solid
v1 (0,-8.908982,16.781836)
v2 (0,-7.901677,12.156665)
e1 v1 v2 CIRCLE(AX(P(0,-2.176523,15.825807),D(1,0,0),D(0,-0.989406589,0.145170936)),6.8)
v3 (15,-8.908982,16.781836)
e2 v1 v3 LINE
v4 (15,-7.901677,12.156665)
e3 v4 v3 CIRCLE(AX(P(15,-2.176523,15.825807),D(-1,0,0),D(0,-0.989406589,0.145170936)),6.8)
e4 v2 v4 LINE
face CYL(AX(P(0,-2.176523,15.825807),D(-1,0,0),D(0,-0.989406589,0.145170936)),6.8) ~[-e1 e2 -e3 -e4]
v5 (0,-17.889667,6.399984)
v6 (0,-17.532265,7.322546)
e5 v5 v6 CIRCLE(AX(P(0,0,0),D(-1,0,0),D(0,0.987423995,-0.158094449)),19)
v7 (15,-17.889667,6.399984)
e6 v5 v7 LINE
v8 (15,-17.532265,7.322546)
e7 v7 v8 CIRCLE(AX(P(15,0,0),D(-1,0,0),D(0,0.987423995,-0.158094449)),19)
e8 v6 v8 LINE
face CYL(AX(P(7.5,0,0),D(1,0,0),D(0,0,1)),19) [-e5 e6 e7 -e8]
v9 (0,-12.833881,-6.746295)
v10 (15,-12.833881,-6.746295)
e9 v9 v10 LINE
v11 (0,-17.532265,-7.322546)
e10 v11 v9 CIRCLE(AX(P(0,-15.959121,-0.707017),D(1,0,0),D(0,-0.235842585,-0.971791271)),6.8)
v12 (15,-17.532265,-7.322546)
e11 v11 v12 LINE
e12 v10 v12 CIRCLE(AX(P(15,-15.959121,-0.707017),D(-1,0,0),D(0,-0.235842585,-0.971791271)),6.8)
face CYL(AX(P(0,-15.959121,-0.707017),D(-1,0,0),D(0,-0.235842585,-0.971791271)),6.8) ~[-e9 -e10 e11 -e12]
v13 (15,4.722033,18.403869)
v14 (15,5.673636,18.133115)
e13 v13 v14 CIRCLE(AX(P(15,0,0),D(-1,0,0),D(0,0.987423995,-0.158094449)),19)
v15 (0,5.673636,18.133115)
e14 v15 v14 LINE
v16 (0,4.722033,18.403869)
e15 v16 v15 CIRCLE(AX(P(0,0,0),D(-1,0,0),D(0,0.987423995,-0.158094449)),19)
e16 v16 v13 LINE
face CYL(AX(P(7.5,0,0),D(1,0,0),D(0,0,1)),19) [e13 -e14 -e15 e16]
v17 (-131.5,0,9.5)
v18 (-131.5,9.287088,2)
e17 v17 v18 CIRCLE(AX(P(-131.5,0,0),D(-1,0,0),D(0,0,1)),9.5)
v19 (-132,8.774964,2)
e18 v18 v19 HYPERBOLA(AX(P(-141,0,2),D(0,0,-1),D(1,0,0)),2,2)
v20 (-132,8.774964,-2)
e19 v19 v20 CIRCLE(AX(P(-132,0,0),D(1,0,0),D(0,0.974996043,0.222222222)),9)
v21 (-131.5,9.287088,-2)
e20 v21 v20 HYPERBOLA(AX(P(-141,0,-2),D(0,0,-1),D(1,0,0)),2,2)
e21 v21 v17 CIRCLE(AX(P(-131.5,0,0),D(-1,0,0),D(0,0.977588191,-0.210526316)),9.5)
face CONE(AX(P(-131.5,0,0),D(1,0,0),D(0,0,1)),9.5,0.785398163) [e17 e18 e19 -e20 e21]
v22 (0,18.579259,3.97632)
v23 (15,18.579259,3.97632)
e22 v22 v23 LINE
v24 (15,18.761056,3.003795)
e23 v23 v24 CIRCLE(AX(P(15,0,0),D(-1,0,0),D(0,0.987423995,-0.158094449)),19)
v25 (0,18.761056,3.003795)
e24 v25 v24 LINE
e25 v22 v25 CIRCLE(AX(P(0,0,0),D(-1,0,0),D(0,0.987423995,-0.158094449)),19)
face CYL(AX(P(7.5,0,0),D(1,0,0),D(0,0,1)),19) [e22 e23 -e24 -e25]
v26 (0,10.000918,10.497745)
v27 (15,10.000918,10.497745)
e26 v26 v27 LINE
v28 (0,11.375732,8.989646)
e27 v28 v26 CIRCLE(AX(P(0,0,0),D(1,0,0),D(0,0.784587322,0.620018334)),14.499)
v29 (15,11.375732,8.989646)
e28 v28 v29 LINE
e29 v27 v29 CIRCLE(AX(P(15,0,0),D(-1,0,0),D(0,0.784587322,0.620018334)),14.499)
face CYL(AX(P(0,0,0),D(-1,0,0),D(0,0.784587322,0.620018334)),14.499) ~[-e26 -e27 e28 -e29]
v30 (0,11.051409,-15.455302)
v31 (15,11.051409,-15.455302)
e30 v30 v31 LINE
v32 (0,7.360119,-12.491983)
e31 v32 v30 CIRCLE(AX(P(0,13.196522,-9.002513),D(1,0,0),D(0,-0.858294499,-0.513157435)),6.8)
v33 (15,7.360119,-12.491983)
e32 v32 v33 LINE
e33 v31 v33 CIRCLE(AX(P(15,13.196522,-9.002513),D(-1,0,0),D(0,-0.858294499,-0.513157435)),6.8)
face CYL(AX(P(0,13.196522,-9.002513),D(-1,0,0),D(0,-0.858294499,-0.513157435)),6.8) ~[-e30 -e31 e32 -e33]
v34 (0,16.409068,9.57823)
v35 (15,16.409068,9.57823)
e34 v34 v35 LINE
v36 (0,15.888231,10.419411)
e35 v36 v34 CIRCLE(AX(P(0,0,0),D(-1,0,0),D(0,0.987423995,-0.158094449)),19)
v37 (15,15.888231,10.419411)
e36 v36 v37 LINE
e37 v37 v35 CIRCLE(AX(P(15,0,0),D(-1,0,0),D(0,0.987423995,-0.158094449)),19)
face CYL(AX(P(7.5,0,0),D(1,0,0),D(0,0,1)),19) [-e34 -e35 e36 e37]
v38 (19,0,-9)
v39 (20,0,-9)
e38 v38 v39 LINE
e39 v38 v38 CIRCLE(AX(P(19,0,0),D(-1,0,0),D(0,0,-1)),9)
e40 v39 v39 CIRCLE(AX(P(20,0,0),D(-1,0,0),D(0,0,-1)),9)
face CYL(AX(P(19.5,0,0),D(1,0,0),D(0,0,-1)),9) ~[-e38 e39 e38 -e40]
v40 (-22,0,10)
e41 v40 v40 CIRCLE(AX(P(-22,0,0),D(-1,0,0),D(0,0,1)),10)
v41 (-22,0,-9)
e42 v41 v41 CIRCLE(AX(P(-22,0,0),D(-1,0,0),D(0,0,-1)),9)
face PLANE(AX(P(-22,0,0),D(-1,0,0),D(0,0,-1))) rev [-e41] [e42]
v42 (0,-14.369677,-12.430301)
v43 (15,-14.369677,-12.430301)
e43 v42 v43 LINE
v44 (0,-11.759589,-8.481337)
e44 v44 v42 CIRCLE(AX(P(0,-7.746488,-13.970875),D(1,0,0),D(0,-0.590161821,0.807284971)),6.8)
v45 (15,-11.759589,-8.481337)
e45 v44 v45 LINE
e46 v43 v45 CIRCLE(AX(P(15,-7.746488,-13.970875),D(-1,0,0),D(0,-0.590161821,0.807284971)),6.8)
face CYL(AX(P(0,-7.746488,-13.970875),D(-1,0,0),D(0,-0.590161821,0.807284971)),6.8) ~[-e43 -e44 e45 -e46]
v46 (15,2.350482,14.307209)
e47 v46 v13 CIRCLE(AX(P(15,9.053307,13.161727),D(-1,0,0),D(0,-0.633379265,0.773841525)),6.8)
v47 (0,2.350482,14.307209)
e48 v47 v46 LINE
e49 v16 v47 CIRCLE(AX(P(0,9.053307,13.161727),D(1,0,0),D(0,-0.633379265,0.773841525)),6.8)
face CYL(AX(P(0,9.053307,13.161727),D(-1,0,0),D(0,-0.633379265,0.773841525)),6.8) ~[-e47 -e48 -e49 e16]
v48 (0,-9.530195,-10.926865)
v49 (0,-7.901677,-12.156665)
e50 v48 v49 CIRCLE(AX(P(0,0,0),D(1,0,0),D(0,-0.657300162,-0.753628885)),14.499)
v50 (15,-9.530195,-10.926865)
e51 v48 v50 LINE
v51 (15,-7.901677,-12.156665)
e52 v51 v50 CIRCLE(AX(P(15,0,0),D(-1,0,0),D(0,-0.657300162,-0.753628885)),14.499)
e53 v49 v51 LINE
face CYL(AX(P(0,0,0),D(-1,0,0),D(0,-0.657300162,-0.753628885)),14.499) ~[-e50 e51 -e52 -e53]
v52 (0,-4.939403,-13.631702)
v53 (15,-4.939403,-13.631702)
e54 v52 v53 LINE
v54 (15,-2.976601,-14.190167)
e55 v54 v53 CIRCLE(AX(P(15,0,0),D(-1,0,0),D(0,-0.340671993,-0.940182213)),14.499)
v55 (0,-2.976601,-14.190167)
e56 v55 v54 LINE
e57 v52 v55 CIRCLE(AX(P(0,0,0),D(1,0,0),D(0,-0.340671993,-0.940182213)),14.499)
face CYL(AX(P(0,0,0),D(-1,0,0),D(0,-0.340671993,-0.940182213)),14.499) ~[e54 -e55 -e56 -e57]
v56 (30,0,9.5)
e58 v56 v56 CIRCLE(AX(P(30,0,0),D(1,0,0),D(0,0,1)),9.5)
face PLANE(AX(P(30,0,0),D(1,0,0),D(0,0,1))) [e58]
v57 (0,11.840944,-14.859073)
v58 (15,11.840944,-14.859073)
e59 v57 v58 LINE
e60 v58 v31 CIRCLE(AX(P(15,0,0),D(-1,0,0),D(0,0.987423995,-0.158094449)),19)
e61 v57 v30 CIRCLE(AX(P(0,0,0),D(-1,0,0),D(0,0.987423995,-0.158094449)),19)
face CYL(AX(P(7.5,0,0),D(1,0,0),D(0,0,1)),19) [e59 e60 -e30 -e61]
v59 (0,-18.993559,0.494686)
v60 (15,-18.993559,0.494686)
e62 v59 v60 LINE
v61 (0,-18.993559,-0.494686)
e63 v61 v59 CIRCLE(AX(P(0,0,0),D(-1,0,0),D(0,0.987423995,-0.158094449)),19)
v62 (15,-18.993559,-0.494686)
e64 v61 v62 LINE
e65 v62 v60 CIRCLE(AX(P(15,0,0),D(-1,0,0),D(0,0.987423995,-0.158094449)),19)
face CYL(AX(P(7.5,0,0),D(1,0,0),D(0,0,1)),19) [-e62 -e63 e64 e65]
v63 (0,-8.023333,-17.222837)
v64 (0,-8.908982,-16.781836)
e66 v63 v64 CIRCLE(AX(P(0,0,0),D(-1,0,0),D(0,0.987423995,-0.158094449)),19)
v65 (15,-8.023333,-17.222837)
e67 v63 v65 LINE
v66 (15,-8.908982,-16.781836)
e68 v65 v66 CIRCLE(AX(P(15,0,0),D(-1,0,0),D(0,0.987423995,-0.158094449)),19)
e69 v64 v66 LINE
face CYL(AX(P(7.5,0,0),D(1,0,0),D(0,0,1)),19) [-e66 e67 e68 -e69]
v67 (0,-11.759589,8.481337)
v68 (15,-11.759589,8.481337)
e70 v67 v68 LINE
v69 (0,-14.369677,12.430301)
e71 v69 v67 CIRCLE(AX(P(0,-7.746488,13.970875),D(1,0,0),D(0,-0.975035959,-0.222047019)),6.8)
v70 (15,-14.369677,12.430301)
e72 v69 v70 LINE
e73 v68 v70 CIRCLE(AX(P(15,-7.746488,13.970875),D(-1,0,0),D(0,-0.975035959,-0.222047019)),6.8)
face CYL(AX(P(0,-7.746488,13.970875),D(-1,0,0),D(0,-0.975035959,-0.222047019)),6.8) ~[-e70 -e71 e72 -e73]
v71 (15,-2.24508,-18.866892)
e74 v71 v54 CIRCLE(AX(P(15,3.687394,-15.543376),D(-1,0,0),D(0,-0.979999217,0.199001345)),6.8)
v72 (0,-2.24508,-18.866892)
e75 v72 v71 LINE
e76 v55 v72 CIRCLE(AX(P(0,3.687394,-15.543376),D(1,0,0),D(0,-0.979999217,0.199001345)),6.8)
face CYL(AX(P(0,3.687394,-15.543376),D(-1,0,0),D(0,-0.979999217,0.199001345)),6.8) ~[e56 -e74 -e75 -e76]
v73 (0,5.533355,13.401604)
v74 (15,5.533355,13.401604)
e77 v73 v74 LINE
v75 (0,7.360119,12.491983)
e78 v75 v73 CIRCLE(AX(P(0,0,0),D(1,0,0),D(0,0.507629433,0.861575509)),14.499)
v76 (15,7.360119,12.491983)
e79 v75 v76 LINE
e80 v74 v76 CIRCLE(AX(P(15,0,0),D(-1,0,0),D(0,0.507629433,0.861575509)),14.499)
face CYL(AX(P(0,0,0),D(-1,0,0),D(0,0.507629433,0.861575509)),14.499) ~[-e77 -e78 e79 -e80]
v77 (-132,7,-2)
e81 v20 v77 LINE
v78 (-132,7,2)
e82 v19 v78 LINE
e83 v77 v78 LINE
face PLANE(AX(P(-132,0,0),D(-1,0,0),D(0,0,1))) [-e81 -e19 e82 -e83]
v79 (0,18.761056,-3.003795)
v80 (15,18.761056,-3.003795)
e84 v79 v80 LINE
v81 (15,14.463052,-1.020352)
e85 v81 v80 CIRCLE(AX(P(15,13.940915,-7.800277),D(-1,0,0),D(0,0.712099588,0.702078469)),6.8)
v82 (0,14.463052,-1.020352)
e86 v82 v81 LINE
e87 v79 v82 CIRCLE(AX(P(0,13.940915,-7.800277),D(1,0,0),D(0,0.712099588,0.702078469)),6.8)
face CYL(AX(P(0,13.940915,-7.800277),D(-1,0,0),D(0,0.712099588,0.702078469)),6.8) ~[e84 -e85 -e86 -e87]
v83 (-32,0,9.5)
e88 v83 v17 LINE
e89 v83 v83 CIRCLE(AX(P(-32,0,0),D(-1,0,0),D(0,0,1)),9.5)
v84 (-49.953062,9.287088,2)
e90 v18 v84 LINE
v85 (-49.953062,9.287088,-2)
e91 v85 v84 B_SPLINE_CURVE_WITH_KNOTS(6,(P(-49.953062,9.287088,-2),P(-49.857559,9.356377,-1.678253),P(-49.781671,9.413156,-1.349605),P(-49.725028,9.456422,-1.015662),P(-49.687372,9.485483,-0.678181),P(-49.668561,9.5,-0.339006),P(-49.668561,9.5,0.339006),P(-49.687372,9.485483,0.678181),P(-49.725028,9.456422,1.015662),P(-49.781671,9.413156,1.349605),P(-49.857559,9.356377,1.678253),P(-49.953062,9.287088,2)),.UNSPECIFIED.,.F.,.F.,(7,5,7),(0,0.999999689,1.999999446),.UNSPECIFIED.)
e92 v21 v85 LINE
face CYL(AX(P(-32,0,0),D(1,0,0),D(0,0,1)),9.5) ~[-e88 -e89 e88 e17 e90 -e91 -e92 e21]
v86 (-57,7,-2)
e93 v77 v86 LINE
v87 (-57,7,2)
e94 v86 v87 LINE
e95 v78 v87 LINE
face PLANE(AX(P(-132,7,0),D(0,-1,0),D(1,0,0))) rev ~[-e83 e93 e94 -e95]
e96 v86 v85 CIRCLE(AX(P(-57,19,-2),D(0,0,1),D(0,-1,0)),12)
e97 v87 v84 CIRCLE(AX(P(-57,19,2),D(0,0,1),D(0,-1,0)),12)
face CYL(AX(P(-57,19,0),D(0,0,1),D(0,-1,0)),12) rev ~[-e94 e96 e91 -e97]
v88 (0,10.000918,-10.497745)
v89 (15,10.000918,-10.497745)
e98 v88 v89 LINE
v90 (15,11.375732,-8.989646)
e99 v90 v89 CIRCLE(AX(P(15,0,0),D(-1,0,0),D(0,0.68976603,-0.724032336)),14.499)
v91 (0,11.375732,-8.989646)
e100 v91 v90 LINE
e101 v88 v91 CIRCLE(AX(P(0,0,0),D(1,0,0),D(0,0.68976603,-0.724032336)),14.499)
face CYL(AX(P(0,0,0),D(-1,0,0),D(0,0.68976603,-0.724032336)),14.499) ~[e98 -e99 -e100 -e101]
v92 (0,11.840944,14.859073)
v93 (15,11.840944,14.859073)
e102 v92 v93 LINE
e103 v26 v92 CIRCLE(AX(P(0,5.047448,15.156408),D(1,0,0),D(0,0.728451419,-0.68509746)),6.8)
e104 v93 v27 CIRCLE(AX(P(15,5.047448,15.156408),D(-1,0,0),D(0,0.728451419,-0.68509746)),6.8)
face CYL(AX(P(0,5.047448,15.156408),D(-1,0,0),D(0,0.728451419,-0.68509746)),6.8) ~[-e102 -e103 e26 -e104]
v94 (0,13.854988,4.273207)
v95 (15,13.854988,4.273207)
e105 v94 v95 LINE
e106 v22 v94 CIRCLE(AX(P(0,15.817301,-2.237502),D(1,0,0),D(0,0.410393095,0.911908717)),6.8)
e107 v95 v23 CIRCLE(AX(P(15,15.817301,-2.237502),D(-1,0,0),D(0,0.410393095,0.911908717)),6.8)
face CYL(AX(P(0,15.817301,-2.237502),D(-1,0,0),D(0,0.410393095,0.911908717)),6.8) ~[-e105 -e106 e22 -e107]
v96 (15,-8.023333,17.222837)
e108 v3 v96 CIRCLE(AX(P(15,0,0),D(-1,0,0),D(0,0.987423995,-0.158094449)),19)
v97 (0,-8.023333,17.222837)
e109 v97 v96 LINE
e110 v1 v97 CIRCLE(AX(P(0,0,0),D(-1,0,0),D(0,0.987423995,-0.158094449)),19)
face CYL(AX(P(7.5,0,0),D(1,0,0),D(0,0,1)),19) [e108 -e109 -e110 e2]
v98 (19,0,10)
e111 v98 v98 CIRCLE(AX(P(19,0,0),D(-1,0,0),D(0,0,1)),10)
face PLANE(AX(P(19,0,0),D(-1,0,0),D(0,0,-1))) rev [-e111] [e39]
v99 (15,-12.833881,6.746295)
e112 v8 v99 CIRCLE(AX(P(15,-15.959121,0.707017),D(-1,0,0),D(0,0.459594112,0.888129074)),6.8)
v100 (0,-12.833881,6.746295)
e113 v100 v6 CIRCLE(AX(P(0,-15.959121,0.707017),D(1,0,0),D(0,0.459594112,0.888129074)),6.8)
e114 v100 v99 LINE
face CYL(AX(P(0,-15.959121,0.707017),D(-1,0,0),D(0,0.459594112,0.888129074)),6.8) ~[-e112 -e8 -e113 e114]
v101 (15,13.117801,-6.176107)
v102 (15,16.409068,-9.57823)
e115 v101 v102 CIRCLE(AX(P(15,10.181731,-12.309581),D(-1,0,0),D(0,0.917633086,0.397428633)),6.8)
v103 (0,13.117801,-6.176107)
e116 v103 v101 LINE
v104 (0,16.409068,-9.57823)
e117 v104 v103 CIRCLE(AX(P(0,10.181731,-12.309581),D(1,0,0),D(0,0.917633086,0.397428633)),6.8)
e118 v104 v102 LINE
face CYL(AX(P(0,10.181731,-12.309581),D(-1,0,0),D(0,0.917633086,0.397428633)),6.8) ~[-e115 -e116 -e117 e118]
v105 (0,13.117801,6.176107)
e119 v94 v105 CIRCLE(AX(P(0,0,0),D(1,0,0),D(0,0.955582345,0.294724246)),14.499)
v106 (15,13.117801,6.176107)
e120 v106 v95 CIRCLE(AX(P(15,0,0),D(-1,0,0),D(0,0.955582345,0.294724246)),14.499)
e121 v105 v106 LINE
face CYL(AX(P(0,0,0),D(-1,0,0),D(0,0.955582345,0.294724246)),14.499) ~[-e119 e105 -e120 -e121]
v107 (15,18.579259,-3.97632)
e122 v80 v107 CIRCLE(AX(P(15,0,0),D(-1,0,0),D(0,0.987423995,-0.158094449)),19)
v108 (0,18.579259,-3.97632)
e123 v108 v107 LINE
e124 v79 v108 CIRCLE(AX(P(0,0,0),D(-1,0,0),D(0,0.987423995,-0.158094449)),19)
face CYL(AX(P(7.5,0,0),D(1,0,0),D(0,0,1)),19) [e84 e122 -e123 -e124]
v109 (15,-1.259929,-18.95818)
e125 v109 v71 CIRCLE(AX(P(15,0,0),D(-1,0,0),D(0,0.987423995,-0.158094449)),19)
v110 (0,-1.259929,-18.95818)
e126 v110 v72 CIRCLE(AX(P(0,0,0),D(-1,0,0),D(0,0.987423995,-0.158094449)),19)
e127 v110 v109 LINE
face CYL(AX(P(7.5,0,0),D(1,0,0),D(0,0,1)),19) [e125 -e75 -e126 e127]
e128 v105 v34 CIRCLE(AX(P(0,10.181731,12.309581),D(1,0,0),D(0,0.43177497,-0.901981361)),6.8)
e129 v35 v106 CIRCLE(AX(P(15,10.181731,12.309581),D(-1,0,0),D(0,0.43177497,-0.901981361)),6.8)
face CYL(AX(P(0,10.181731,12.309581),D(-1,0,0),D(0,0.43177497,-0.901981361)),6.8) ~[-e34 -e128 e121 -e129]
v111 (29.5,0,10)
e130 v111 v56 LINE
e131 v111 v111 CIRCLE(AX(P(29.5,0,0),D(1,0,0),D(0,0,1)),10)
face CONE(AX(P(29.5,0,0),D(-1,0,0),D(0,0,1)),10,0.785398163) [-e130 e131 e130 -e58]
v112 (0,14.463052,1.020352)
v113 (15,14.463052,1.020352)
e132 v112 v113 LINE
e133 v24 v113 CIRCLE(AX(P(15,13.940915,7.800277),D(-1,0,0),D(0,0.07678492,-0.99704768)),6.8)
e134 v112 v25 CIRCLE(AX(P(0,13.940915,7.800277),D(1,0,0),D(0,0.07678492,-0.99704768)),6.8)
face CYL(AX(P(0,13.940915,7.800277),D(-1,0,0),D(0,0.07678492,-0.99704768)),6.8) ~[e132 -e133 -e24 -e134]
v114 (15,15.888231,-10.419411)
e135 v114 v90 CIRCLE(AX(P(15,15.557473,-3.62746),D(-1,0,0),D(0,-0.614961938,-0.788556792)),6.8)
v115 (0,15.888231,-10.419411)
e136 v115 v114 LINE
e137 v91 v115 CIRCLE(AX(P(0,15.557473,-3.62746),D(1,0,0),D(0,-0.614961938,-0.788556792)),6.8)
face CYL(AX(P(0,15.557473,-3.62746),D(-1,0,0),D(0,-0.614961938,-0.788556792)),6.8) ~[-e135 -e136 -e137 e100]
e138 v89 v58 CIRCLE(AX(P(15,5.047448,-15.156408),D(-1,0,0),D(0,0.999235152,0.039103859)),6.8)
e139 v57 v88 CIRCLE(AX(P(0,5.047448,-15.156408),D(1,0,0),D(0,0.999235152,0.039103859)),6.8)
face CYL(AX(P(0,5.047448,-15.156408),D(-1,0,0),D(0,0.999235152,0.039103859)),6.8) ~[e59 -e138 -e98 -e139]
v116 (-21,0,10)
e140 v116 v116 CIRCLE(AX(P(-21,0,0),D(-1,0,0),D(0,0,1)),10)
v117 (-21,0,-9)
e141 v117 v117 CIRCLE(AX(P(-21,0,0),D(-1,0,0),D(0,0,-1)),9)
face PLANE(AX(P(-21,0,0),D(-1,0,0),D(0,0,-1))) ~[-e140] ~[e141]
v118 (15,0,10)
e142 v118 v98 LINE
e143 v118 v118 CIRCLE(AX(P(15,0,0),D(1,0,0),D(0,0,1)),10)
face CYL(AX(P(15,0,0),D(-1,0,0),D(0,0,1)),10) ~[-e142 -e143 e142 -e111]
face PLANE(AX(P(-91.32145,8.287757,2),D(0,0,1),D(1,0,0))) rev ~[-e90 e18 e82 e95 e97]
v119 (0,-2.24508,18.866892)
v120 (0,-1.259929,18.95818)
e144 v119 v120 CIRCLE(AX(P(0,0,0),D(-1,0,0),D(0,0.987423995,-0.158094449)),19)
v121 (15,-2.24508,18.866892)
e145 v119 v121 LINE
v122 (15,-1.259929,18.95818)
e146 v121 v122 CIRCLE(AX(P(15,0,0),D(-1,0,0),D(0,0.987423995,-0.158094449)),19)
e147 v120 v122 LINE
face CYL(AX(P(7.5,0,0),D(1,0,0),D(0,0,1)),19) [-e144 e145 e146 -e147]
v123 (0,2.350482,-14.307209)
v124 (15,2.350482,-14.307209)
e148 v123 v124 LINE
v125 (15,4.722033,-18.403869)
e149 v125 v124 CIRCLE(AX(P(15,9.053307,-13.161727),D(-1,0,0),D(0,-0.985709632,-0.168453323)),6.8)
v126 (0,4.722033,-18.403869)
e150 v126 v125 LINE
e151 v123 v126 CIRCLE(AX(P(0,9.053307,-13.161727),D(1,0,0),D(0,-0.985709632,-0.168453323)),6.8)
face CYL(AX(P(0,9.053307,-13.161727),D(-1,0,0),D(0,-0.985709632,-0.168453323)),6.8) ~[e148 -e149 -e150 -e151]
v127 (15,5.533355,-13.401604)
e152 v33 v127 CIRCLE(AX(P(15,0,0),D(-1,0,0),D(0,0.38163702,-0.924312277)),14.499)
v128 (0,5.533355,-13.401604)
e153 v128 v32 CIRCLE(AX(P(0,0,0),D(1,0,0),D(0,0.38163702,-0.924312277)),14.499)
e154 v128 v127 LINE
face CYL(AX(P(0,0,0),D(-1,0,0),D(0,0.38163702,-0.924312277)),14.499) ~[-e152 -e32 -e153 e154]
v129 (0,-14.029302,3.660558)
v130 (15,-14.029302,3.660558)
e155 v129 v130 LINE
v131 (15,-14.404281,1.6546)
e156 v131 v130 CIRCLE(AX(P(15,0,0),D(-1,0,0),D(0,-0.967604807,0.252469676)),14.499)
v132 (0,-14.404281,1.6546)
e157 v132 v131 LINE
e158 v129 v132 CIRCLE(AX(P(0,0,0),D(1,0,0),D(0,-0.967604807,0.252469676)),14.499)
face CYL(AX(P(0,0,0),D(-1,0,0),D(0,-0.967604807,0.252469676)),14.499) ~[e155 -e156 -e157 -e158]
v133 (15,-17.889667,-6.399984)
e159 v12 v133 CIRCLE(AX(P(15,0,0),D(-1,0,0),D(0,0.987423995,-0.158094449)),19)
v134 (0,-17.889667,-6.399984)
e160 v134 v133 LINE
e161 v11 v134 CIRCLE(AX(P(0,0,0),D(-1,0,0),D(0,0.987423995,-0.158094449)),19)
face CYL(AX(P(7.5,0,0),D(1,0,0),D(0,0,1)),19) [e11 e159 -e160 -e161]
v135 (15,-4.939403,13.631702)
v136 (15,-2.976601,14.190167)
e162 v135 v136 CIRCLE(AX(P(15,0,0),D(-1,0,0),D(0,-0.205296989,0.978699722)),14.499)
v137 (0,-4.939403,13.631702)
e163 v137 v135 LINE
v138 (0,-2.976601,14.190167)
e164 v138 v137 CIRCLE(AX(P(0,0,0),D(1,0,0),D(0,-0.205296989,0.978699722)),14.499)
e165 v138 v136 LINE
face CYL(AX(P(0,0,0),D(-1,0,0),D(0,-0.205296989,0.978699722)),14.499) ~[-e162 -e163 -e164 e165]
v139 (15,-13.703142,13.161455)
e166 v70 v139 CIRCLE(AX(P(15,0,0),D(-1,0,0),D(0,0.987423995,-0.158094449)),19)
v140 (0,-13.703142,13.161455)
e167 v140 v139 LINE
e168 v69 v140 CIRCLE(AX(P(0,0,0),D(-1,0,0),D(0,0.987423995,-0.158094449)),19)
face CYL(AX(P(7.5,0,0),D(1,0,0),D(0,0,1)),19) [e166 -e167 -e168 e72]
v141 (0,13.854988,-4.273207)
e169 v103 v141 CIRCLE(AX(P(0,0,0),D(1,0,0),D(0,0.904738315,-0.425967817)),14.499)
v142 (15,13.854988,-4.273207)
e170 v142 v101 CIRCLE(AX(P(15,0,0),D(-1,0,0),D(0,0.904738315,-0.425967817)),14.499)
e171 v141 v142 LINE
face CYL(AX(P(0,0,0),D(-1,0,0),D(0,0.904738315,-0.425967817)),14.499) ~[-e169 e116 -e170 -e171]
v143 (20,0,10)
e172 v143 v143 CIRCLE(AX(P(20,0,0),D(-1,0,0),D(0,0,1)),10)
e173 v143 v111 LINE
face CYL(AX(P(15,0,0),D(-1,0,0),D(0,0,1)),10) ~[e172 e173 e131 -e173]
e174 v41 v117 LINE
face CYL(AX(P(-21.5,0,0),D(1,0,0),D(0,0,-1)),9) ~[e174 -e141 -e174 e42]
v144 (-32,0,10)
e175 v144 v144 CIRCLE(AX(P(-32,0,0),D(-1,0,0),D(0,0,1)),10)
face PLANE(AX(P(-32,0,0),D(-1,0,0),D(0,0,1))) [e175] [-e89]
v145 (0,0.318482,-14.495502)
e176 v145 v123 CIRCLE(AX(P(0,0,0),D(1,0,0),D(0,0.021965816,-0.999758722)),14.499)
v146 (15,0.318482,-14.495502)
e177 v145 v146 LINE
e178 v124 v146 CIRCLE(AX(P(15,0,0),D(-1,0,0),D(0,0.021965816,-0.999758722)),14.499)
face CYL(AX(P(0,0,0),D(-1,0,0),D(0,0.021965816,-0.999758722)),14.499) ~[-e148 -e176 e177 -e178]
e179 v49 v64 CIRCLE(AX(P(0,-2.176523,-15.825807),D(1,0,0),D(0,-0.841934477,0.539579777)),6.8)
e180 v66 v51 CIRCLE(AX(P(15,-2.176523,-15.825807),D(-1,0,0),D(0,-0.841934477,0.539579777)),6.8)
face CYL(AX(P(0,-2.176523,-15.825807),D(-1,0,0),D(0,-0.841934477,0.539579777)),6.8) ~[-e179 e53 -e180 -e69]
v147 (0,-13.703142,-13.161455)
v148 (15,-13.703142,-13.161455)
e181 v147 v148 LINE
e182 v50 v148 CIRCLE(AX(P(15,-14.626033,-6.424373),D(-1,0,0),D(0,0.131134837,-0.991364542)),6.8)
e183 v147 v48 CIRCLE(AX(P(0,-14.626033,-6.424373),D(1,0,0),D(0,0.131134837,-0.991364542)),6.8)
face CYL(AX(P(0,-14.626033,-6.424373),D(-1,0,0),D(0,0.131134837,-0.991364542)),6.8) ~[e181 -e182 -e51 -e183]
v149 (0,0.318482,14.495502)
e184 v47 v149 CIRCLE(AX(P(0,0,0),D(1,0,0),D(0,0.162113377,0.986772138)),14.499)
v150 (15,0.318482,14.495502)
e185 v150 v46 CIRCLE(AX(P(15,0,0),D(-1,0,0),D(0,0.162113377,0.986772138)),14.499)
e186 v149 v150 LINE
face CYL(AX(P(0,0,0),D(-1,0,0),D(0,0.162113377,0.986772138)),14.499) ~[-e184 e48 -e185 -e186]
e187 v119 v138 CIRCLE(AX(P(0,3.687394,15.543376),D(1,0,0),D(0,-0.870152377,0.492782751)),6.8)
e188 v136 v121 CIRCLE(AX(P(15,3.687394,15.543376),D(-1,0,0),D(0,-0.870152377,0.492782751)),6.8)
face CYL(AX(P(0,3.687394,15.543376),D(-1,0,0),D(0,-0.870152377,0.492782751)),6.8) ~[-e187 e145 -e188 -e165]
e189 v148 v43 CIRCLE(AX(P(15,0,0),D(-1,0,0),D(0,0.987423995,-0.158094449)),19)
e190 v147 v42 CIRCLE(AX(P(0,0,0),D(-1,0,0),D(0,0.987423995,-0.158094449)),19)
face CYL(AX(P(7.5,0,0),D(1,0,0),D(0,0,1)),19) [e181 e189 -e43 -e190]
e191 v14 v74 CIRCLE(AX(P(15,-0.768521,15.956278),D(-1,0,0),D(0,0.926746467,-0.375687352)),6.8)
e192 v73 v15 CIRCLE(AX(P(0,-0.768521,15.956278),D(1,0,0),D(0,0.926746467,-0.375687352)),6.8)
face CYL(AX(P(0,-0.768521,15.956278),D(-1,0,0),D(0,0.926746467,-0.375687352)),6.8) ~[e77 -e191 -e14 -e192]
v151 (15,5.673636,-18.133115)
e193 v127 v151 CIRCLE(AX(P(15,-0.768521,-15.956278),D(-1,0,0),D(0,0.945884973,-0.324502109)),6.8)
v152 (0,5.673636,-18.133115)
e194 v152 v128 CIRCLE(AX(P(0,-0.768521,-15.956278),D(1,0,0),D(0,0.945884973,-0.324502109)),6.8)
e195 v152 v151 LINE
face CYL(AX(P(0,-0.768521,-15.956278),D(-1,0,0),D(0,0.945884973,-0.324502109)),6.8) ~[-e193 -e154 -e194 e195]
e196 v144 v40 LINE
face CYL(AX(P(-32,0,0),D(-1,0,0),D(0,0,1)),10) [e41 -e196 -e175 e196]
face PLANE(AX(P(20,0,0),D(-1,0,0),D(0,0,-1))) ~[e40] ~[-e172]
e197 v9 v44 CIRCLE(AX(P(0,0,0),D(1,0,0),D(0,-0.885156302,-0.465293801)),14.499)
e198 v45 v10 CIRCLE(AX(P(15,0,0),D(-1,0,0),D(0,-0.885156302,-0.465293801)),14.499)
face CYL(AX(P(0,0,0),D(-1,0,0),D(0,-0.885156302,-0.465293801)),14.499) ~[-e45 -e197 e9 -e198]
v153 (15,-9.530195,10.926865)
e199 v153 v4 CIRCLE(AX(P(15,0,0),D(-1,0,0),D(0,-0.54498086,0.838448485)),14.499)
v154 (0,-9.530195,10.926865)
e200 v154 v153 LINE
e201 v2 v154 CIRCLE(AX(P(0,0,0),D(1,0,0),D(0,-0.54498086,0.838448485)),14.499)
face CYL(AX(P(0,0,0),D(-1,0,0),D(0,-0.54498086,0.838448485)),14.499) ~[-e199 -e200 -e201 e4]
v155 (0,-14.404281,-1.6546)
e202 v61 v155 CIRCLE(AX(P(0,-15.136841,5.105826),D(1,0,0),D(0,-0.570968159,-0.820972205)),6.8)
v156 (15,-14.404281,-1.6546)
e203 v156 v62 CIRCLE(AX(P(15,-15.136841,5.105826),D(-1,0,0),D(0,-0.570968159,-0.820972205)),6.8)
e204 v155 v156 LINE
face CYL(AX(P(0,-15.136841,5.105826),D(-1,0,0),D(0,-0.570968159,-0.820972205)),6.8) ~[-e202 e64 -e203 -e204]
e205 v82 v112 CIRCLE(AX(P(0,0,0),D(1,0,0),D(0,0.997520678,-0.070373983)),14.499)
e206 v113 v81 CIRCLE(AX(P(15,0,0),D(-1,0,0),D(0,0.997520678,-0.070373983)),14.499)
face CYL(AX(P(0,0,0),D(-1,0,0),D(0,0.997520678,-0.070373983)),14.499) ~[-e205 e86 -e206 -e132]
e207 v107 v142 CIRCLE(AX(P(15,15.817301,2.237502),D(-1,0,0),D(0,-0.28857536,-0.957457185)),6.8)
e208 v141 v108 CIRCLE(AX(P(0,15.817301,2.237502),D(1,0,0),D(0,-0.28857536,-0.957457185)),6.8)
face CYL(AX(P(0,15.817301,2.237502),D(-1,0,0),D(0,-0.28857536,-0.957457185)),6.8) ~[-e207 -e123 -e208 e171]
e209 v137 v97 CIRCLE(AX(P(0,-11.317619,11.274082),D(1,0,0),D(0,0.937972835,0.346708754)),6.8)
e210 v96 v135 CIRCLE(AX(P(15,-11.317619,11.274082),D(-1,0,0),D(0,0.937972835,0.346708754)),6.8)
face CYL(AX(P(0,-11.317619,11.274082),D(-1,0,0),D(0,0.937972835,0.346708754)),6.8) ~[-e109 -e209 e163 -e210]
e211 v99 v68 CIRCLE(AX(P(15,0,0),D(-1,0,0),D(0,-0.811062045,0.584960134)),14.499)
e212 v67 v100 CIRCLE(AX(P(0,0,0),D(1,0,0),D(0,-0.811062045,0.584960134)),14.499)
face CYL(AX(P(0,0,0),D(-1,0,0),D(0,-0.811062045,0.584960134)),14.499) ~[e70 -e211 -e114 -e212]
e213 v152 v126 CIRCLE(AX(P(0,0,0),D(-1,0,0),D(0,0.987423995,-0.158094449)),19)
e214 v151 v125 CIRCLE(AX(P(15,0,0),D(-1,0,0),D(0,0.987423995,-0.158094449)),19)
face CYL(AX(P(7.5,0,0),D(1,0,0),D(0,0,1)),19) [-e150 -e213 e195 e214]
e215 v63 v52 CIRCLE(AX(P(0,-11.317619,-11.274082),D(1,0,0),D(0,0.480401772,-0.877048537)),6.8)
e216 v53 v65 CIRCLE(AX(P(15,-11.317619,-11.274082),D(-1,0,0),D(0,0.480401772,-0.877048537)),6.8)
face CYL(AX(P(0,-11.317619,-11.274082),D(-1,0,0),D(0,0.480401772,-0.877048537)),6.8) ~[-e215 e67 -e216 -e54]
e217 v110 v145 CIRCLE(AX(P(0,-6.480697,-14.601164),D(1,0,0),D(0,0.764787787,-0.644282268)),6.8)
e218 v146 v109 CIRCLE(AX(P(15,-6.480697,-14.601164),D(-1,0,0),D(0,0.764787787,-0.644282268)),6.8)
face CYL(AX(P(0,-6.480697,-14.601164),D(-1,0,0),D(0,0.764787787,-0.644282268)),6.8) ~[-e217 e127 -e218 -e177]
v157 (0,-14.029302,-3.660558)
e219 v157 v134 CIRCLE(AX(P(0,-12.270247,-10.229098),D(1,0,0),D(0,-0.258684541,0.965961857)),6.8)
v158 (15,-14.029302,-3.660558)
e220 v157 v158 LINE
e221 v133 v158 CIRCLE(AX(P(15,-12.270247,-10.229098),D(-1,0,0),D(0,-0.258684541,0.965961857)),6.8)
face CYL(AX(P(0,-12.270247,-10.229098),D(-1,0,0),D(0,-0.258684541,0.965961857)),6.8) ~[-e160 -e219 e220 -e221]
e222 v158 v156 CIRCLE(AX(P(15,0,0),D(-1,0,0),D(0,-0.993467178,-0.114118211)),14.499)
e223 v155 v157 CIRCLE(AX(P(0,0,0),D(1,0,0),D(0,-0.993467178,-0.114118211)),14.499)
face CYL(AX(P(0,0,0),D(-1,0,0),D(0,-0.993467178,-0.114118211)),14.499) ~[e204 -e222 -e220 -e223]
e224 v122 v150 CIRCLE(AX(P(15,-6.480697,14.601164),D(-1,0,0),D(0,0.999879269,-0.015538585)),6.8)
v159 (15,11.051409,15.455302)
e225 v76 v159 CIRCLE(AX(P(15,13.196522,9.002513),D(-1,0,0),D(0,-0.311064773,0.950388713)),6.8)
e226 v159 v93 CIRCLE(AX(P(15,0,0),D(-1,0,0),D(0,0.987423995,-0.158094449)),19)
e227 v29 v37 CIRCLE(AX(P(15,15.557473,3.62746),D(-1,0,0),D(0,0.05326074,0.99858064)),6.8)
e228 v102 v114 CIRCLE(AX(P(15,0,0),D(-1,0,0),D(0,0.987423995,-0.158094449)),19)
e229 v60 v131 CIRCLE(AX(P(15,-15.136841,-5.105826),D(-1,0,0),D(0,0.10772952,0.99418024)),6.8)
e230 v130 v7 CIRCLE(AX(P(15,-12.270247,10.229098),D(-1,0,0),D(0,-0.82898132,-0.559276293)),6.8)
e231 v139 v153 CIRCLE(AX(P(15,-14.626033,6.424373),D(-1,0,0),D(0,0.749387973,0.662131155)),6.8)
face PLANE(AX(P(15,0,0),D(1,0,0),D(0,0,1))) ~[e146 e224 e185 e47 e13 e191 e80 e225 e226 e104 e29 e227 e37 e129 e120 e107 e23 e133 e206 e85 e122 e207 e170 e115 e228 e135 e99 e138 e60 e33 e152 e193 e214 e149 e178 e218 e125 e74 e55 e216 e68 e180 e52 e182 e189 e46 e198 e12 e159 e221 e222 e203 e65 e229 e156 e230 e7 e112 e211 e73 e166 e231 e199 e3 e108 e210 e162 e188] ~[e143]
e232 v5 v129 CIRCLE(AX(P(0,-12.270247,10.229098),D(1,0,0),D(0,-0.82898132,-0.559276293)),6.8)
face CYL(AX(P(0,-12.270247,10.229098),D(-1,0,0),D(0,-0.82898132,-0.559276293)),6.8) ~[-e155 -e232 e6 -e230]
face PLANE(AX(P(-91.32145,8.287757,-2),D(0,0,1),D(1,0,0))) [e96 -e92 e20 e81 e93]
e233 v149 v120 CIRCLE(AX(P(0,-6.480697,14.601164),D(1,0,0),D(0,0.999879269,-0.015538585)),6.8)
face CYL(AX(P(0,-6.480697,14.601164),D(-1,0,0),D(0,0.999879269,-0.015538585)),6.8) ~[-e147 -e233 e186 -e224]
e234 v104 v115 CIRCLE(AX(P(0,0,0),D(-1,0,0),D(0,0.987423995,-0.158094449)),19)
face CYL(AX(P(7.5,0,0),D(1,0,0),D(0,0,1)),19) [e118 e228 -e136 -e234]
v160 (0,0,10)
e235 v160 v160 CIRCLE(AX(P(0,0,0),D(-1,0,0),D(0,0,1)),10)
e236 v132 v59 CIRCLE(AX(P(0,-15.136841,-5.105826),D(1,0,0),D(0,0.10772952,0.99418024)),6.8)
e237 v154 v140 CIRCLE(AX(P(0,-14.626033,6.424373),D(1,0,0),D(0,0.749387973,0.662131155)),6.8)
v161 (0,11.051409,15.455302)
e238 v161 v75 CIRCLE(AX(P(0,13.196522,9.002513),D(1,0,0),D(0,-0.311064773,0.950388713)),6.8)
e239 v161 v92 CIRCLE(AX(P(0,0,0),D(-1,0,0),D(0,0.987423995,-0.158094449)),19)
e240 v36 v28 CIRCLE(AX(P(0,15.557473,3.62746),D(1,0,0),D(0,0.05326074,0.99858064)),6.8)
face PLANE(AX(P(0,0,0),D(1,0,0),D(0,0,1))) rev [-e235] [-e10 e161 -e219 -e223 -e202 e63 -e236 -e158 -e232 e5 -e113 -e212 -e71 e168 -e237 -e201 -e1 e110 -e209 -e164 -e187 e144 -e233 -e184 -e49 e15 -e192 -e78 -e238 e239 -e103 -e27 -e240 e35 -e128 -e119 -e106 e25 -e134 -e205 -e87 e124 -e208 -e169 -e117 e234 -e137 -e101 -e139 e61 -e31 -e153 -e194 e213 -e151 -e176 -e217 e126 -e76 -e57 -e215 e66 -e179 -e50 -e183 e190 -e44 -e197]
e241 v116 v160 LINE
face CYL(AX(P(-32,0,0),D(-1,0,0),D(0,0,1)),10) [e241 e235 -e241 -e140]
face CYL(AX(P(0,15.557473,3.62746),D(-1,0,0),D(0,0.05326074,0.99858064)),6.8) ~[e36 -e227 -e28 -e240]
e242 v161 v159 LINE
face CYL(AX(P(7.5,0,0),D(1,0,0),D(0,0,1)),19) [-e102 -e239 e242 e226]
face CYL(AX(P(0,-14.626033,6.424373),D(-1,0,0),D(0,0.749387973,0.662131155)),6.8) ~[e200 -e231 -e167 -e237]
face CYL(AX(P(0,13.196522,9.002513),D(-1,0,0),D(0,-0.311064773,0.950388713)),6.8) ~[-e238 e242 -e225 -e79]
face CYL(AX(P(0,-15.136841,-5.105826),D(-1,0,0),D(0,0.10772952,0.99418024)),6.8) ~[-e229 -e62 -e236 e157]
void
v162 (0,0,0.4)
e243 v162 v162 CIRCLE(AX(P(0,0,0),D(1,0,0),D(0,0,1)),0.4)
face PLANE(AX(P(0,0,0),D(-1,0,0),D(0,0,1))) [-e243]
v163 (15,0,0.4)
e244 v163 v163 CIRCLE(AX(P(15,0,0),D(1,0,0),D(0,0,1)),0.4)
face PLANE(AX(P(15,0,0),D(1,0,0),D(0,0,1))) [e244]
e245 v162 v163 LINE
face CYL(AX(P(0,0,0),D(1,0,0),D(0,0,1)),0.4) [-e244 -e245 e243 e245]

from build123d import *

# Parameters (mm, degrees)
BASPROSKE_W         = 15
BASPROSKE_H         = 19
TOOTHCUT_DEPTH      = 31.773365107
TEETHCUTS_COUNT     = 17
TEETHCUTS_ANGLE     = 338.823529412
BORSKE_R            = 0.4
BORE_DEPTH          = 50.0000508
SKETCH1_R           = 10
BOSS_EXTRUDE1_DEPTH = 15
BOSS_EXTRUDE2_START = 32
SKETCH2_R           = 10
BOSS_EXTRUDE2_DEPTH = 32
BOSS_EXTRUDE3_START = 32
SKETCH2_3_R         = 9.5
BOSS_EXTRUDE3_DEPTH = 100
CUT_EXTRUDE1_DEPTH  = 2
SKETCH4_W           = 1
SKETCH4_H           = 1
CHAMFER1_SIZE       = 0.5


with BuildPart() as part:
    # BasProSke → Base-Revolve (revolve)
    with BuildSketch(Plane(origin=(0, 0, 0), x_dir=(1, 0, 0), z_dir=(0, 1, 0)), mode=Mode.PRIVATE) as base_revolve_sk:
        with Locations((7.5, 9.5)):
            Rectangle(BASPROSKE_W, BASPROSKE_H)
    revolve(base_revolve_sk.sketch.rotate(Axis((-10, 0, 0), (1, 0, 0)), 180), axis=Axis((-10, 0, 0), (1, 0, 0)))

    # TooCutSke → ToothCut (cut, through all)
    with BuildSketch(Plane(origin=(0, 0, 0), x_dir=(0, 0, -1), z_dir=(1, 0, 0))):
        with BuildLine():
            ThreePointArc((1.020352389, 14.463052306), (0, 14.499), (-1.020352389, 14.463052306))
            ThreePointArc((-1.020352389, 14.463052306), (-1.632621885, 16.804485203), (-3.026143023, 18.783192049))
            ThreePointArc((-3.026143023, 18.783192049), (0, 19.0254), (3.026143023, 18.783192049))
            ThreePointArc((3.026143023, 18.783192049), (1.632621885, 16.804485203), (1.020352389, 14.463052306))
        make_face()
    toothcut = extrude(amount=TOOTHCUT_DEPTH, mode=Mode.SUBTRACT)

    # TeethCuts: ToothCut ×17 about axis
    teethcuts_axis = Axis((-10, 0, 0), (1, 0, 0))
    for i in range(1, TEETHCUTS_COUNT):
        add(toothcut.rotate(teethcuts_axis, i * TEETHCUTS_ANGLE / (TEETHCUTS_COUNT - 1)), mode=Mode.SUBTRACT)

    # BorSke → Bore (cut, symmetric)
    with BuildSketch(Plane(origin=(0, 0, 0), x_dir=(0, 0, -1), z_dir=(1, 0, 0))):
        with Locations(Location((0, 0, 0), (0, 0, 180))):
            Circle(BORSKE_R)
    extrude(amount=BORE_DEPTH, both=True, mode=Mode.SUBTRACT)

    # Sketch1 → Boss-Extrude1 (add)
    with BuildSketch(Plane(origin=(15, 0, 0), x_dir=(0, 0, -1), z_dir=(1, 0, 0))):
        with Locations(Location((0, 0, 0), (0, 0, 180))):
            Circle(SKETCH1_R)
    extrude(amount=BOSS_EXTRUDE1_DEPTH)

    # Sketch2 → Boss-Extrude2 (add)
    with BuildSketch(Plane.ZY.offset(BOSS_EXTRUDE2_START)):
        Circle(SKETCH2_R)
    extrude(amount=-BOSS_EXTRUDE2_DEPTH)

    # Sketch2<3> → Boss-Extrude3 (add)
    with BuildSketch(Plane.ZY.offset(BOSS_EXTRUDE3_START)):
        Circle(SKETCH2_3_R)
    extrude(amount=BOSS_EXTRUDE3_DEPTH)

    # Sketch3 → Cut-Extrude1 (cut, symmetric)
    with BuildSketch(Plane.XY):
        with BuildLine():
            Line((-132, 9.5), (-132, 7))
            Line((-132, 7), (-57, 7))
            ThreePointArc((-57, 7), (-53.127016654, 7.642183308), (-49.668560851, 9.5))
            Line((-49.668560851, 9.5), (-132, 9.5))
        make_face()
    extrude(amount=CUT_EXTRUDE1_DEPTH, both=True, mode=Mode.SUBTRACT)

    # Sketch4 → Cut-Revolve1 (revolve, cut)
    with BuildSketch(Plane.XY, mode=Mode.PRIVATE) as cut_revolve1_sk:
        with Locations((19.5, 9.5)):
            Rectangle(SKETCH4_W, SKETCH4_H)
        with Locations((-21.5, 9.5)):
            Rectangle(SKETCH4_W, SKETCH4_H)
    revolve(cut_revolve1_sk.sketch.rotate(Axis((0, 0, 0), (-1, 0, 0)), 90), axis=Axis((0, 0, 0), (-1, 0, 0)), mode=Mode.SUBTRACT)

    # Chamfer1
    chamfer1_edges = [part.edges().sort_by_distance(p)[0] for p in [
        (30, 0, -10),
        (-132, -7.39087275, -5.968668193),
    ]]
    chamfer(chamfer1_edges, length=CHAMFER1_SIZE)


solid = part.part
